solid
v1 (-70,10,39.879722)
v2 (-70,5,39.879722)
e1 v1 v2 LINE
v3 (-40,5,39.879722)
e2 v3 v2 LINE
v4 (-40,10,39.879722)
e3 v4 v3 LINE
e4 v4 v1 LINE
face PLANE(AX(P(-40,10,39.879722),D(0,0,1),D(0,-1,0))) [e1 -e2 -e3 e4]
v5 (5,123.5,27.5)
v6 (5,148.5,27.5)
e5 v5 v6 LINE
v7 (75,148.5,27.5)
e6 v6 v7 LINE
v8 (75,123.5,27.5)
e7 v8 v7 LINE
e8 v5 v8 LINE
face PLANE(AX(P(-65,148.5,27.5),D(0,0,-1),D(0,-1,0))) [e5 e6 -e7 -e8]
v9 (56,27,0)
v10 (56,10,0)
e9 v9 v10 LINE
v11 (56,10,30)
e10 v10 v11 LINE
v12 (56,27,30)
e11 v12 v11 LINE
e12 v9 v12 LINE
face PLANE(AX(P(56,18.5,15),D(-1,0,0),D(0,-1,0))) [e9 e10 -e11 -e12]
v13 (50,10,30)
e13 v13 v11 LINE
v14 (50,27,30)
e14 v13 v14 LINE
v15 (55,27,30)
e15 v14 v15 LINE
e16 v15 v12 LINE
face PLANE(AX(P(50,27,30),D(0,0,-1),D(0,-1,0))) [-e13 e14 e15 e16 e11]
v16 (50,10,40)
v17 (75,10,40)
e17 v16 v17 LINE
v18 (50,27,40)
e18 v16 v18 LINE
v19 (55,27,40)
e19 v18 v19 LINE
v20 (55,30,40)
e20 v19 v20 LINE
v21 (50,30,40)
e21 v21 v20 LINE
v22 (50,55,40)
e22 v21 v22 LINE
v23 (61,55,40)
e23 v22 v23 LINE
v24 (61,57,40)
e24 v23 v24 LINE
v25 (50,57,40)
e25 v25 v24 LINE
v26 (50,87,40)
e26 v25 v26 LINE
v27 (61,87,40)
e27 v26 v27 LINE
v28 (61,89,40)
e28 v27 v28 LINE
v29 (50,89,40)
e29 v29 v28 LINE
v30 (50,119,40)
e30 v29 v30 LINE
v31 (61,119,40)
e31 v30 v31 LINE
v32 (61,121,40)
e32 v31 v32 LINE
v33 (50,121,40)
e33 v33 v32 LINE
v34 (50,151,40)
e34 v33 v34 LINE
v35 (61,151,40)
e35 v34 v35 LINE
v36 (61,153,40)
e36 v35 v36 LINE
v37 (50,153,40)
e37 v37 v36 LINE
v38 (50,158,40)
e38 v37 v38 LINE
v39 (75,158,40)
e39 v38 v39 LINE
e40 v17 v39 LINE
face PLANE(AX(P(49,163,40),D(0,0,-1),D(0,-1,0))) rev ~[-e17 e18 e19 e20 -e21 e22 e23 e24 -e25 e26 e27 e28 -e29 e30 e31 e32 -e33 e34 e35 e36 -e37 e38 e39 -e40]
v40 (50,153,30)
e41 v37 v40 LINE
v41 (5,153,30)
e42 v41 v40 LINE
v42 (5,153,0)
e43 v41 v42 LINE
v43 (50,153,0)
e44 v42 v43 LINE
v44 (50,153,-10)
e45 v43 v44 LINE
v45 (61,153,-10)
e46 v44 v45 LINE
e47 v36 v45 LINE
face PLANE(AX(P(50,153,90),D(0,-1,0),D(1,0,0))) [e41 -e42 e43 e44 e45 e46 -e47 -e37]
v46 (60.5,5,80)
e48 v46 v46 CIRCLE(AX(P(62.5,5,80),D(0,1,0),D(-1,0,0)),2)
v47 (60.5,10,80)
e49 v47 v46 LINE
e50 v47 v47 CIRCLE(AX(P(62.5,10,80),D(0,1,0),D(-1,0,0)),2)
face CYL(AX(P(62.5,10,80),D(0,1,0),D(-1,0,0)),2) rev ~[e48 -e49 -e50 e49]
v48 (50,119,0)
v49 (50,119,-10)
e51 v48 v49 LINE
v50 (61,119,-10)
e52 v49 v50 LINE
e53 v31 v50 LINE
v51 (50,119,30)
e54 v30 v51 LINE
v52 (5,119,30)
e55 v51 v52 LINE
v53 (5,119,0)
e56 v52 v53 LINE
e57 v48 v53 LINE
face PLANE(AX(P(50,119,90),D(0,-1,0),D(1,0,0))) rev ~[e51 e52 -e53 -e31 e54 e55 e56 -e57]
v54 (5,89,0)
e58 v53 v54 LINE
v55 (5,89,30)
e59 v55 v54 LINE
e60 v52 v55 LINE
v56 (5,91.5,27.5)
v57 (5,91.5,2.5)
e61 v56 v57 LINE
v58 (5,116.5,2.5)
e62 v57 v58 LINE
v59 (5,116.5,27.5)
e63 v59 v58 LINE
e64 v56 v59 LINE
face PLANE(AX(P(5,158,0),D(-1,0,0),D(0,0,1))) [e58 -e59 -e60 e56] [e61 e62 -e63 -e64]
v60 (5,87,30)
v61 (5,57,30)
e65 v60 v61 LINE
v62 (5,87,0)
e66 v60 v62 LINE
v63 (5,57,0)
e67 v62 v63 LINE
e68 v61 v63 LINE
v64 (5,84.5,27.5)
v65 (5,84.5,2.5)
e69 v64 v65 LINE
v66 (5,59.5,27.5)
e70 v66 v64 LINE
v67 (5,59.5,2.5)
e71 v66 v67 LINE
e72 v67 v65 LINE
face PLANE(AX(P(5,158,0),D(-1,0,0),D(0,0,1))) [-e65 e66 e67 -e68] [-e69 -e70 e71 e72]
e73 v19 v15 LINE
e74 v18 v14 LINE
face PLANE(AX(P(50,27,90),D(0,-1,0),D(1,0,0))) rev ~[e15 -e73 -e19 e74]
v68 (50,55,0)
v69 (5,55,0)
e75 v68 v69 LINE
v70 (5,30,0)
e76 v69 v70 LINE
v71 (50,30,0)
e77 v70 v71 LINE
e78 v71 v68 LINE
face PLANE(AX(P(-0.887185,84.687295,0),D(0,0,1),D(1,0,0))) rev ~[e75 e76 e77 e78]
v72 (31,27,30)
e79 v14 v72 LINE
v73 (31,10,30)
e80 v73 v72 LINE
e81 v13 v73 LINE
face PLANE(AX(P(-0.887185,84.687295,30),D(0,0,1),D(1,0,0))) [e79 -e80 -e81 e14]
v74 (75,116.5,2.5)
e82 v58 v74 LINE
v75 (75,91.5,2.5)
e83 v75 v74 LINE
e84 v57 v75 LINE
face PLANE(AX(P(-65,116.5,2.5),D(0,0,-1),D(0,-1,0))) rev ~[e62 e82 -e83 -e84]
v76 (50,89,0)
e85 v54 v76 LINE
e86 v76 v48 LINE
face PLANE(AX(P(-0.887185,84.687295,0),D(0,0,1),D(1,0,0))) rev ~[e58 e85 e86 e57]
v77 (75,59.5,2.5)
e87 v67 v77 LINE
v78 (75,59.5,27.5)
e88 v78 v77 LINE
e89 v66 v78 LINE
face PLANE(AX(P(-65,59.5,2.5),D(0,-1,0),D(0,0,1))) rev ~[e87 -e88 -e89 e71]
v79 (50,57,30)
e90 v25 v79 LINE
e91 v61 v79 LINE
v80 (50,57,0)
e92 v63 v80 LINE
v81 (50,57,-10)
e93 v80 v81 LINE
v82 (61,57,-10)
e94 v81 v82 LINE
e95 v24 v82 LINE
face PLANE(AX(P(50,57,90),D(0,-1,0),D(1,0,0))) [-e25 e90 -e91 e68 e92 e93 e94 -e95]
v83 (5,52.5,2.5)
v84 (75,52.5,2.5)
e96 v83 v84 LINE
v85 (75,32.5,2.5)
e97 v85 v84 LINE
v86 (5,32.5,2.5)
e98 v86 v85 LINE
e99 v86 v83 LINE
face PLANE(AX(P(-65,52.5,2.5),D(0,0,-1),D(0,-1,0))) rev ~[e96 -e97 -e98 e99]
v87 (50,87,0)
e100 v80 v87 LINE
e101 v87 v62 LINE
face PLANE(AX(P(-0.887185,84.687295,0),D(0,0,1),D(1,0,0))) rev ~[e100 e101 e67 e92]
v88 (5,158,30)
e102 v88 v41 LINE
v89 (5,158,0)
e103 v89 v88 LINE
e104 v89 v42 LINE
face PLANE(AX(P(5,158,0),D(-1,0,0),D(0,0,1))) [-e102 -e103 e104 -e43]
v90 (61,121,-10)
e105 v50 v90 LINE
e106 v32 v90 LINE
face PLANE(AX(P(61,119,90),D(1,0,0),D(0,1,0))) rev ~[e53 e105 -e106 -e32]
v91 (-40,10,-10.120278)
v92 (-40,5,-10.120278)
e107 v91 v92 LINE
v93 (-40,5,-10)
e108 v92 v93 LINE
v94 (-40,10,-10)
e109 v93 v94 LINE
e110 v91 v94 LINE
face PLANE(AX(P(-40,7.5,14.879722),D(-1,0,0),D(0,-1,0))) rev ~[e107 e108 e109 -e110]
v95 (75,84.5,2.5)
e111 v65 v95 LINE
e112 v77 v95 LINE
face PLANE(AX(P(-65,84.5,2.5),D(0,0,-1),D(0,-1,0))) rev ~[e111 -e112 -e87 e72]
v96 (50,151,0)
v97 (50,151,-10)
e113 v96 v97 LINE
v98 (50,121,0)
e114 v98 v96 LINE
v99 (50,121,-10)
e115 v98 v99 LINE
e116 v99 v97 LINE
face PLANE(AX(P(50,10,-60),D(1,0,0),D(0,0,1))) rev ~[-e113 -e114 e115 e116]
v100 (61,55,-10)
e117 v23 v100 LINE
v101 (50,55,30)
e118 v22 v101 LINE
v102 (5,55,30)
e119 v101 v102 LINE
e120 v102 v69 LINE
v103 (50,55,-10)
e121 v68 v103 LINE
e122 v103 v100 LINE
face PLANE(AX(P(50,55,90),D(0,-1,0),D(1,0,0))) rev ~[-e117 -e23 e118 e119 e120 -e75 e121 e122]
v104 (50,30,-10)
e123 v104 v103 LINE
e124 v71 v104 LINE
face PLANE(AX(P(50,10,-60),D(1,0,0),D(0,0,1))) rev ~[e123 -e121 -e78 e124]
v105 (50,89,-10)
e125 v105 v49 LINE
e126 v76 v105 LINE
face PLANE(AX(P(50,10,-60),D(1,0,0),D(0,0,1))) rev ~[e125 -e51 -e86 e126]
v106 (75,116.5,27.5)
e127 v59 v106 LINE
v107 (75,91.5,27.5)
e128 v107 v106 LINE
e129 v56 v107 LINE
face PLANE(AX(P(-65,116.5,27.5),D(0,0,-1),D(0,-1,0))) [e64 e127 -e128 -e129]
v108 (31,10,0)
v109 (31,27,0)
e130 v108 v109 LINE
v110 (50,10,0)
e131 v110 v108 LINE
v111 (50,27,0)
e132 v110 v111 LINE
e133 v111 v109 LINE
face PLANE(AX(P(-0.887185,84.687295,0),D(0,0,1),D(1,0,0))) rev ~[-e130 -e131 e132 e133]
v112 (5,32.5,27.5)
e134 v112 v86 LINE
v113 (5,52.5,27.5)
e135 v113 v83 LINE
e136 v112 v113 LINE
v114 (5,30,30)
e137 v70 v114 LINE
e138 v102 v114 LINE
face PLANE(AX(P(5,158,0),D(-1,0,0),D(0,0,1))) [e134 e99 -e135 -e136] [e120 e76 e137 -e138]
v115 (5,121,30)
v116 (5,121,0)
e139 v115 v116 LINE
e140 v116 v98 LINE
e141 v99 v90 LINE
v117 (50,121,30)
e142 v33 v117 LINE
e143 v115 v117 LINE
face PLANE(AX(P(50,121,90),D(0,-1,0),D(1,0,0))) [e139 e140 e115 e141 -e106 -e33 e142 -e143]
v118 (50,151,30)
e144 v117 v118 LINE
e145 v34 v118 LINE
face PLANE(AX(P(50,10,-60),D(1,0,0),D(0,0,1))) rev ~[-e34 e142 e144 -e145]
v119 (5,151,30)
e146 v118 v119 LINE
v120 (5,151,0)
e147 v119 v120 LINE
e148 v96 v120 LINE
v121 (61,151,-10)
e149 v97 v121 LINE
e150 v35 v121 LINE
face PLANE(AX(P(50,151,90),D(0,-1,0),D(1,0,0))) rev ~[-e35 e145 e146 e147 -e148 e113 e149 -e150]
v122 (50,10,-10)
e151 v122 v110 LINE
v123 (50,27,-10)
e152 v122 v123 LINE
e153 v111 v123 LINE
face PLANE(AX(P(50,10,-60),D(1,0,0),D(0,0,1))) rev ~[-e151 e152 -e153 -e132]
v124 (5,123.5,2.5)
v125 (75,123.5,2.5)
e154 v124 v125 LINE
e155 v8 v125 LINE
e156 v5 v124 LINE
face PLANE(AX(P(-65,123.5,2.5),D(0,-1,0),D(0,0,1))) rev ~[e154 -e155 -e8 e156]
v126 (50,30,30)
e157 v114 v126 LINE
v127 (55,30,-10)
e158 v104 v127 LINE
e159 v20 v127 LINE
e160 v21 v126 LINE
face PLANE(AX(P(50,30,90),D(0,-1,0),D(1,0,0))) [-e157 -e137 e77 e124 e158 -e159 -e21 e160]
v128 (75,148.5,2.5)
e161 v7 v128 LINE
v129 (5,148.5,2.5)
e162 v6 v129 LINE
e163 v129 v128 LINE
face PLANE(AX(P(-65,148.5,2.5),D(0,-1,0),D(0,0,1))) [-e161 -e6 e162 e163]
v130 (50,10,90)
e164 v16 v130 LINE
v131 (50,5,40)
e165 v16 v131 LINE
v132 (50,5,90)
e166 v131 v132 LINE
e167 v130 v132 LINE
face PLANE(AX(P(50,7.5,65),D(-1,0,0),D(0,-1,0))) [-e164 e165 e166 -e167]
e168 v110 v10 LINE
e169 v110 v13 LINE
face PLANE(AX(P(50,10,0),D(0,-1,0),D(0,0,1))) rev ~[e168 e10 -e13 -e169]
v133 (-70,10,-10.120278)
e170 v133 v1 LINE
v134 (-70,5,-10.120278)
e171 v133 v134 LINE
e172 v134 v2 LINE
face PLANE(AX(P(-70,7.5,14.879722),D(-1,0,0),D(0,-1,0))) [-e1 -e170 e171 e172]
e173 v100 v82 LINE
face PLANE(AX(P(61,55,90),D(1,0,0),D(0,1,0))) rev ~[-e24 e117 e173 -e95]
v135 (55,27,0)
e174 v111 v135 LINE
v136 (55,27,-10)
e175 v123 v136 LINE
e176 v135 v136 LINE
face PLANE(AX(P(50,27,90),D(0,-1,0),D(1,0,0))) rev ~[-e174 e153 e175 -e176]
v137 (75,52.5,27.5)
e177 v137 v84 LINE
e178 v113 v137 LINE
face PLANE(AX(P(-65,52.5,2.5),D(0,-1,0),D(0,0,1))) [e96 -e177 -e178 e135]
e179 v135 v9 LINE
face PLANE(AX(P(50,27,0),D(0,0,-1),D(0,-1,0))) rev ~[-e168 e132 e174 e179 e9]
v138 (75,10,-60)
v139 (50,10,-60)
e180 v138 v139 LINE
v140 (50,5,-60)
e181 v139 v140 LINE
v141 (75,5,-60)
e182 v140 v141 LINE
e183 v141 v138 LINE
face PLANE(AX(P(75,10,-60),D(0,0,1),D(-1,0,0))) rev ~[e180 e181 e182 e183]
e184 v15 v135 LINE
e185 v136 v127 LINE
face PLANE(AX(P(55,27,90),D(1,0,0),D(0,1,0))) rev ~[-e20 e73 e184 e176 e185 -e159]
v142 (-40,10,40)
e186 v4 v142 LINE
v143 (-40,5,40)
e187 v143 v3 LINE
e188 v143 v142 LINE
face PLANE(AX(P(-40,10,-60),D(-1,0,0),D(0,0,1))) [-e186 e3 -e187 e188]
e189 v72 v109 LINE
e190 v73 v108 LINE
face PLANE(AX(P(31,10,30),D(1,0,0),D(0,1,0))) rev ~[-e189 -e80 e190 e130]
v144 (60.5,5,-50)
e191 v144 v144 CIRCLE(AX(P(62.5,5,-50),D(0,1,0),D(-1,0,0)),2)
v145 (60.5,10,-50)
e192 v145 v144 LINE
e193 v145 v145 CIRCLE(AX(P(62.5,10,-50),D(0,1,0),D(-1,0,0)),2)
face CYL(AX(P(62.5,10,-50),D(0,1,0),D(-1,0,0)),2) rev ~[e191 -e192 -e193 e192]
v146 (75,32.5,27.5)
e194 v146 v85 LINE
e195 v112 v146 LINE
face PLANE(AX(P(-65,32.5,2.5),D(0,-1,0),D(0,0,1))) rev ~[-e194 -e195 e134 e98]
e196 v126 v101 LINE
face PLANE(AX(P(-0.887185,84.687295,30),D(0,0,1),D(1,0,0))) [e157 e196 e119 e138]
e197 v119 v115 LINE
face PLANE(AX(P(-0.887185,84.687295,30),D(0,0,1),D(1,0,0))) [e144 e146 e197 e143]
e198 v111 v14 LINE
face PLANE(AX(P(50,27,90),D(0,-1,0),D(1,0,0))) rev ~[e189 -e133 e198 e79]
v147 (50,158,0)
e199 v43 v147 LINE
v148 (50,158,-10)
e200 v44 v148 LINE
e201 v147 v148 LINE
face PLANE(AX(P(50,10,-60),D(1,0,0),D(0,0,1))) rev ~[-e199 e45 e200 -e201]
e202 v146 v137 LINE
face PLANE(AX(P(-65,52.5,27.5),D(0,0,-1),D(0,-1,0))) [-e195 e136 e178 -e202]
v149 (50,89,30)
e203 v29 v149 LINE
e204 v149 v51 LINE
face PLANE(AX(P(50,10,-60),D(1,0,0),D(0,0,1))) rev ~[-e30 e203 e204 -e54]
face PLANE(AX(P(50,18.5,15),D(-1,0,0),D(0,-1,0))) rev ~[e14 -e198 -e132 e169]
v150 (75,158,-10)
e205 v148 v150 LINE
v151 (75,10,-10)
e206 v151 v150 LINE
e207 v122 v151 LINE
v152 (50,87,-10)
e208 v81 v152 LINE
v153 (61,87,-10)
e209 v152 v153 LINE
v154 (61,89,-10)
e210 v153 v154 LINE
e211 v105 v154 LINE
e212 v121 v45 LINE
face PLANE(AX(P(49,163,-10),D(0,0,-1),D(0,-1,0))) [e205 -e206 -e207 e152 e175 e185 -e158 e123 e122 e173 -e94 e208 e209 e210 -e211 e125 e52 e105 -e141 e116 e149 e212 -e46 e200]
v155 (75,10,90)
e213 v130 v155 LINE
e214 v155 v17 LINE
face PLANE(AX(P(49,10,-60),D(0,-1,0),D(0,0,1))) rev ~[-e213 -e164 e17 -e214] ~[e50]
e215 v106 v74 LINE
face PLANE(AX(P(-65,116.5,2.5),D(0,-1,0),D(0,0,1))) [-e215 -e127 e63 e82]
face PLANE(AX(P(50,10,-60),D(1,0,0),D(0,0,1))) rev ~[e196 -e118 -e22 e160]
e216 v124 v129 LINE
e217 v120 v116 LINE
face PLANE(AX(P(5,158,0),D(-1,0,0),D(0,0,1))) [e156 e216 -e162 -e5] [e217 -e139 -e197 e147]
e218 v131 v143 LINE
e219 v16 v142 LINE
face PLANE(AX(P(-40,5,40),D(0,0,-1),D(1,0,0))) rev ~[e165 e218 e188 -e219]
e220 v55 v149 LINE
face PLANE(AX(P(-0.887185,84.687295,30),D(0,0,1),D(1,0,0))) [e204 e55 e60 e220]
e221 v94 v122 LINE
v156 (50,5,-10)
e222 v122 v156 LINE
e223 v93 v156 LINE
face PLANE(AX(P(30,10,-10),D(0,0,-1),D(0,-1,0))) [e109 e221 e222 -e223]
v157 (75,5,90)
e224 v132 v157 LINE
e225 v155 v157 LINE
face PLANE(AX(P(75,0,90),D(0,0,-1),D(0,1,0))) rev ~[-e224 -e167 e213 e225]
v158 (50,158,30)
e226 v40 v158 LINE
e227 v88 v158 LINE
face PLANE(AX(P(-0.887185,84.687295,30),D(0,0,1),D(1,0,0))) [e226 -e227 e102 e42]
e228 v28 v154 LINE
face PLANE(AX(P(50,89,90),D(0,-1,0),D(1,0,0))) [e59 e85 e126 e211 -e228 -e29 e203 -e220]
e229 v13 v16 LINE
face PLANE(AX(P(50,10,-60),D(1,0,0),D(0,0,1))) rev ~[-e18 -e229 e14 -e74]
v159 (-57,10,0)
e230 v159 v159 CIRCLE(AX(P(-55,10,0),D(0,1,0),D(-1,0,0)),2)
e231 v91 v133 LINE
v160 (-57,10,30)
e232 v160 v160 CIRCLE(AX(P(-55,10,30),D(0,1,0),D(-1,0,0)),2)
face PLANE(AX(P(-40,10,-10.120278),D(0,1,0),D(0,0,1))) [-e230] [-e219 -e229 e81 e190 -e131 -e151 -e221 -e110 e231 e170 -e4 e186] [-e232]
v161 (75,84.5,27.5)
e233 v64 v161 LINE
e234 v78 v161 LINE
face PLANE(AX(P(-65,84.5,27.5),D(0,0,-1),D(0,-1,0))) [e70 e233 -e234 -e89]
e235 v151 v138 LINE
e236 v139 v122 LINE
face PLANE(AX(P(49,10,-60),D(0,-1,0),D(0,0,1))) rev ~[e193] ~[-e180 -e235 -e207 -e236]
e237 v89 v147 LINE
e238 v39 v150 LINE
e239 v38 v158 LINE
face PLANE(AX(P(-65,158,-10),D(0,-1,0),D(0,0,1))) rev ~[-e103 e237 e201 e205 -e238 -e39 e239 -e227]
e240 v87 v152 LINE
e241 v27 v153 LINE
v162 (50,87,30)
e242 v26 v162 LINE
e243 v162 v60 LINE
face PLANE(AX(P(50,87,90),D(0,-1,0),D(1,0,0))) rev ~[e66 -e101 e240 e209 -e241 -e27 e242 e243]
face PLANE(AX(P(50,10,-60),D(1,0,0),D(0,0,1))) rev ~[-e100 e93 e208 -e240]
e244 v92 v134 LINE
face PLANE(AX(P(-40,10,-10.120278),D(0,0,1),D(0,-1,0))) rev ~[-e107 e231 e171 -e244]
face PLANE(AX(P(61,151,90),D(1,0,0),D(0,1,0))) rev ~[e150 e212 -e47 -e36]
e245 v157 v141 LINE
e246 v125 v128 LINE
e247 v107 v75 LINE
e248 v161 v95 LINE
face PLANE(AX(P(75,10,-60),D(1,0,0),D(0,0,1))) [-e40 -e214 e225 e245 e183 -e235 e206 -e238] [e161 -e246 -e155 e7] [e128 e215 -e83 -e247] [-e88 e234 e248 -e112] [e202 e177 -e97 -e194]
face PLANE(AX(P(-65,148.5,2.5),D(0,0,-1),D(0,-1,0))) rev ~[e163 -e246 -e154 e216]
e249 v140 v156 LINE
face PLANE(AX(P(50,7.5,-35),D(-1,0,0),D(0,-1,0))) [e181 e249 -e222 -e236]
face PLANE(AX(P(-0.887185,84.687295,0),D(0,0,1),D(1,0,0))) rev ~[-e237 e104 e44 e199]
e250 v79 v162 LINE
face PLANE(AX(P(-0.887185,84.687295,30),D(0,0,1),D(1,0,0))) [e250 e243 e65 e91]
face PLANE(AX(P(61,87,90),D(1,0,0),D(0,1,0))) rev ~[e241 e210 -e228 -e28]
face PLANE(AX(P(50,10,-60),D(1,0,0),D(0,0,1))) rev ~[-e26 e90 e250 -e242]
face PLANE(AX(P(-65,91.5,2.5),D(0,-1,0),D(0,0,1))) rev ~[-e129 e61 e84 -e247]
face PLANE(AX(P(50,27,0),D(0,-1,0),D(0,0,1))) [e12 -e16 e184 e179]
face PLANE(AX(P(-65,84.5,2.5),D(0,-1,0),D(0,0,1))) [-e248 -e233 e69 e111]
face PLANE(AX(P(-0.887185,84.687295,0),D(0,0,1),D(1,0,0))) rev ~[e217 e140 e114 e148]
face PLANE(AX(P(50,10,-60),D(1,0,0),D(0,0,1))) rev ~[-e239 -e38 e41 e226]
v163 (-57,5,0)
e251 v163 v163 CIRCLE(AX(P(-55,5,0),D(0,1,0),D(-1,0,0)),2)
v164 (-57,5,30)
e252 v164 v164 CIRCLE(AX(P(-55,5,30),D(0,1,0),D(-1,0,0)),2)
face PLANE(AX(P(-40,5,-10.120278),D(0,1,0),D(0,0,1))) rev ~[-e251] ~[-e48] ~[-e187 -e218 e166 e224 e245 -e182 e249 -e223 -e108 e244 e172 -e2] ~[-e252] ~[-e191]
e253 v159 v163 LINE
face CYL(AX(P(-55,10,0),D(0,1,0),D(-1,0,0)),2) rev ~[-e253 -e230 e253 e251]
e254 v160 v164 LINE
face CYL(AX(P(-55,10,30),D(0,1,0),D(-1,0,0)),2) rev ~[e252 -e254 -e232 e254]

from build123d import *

# Parameters (mm, degrees)
PAD_DEPTH       = 30
SKETCH001_W     = 10
SKETCH001_H     = 150
PAD001_DEPTH    = 180
SKETCH002_W     = 25
SKETCH002_H     = 150
PAD002_DEPTH    = 153
SKETCH003_W     = 5
SKETCH003_H     = 3
SKETCH003_W_2   = 11
SKETCH003_H_2   = 2
POCKET_DEPTH    = 150
SKETCH006_W     = 153
SKETCH006_H     = 50
POCKET001_DEPTH = 35
SKETCH007_W     = 50
SKETCH007_H     = 50
SKETCH007_W_2   = 45
POCKET002_DEPTH = 35
SKETCH004_R     = 2
POCKET003_DEPTH = 10.001
SKETCH008_W     = 25
SKETCH008_H     = 25
SKETCH008_W_2   = 20
SKETCH008_W_3   = 5
SKETCH008_H_2   = 50
POCKET004_DEPTH = 150
SKETCH009_W     = 5
SKETCH009_H     = 150
POCKET005_DEPTH = 200
SKETCH010_W     = 20
SKETCH010_H     = 30
POCKET006_DEPTH = 5
SKETCH011_W     = 70
SKETCH011_H     = 30
POCKET007_DEPTH = 128
SKETCH012_W     = 65
SKETCH012_H     = 150
POCKET008_DEPTH = 5
SKETCH013_W     = 5
SKETCH013_H     = 50
POCKET009_DEPTH = 20
SKETCH014_W     = 20
SKETCH014_H     = 50
POCKET010_DEPTH = 5
SKETCH015_W     = 17
SKETCH015_H     = 30
POCKET011_DEPTH = 6
SKETCH016_W     = 5
SKETCH016_H     = 50
PAD003_DEPTH    = 30
SKETCH017_R     = 2
POCKET012_DEPTH = 5
SKETCH018_W     = 6
SKETCH018_H     = 17
POCKET013_DEPTH = 30


with BuildPart() as part:
    # Sketch → Pad (new body)
    with BuildSketch(Plane.XY):
        Polygon((-75, 0), (75, 0), (75, 163), (-65, 163), (-65, 153), (55, 153), (55, 151), (-65, 151), (-65, 121), (55, 121), (55, 119), (-65, 119), (-65, 89), (55, 89), (55, 87), (-65, 87), (-65, 57), (55, 57), (55, 55), (-65, 55), (-65, 30), (55, 30), (55, 27), (25, 27), (25, 10), (-75, 10), align=None)
    extrude(amount=PAD_DEPTH)

    # Sketch001 (on Face2 of Pad) → Pad001 (join)
    with BuildSketch(Plane.YZ.offset(75)):
        with Locations((5, 15)):
            Rectangle(SKETCH001_W, SKETCH001_H)
    extrude(amount=-PAD001_DEPTH)

    # Sketch002 (on Face10 of Pad001) → Pad002 (join)
    with BuildSketch(Plane(origin=(0, 10, 0), x_dir=(-1, 0, 0), z_dir=(0, 1, 0))):
        with Locations((-62.5, 15)):
            Rectangle(SKETCH002_W, SKETCH002_H)
    extrude(amount=PAD002_DEPTH)

    # Sketch003 (on Face14 of Pad002) → Pocket (cut)
    with BuildSketch(Plane.XY.offset(90)):
        with Locations((52.5, 28.5)):
            Rectangle(SKETCH003_W, SKETCH003_H)
        with Locations((55.5, 56)):
            Rectangle(SKETCH003_W_2, SKETCH003_H_2)
        with Locations((55.5, 88)):
            Rectangle(SKETCH003_W_2, SKETCH003_H_2)
        with Locations((55.5, 120)):
            Rectangle(SKETCH003_W_2, SKETCH003_H_2)
        with Locations((55.5, 152)):
            Rectangle(SKETCH003_W_2, SKETCH003_H_2)
    extrude(amount=-POCKET_DEPTH, mode=Mode.SUBTRACT)

    # Sketch006 → Pocket001 (cut)
    with BuildSketch(Plane(origin=(49, 0, 0), x_dir=(0, -1, 0), z_dir=(-1, 0, 0))):
        with Locations((-86.5, 65)):
            Rectangle(SKETCH006_W, SKETCH006_H)
        with Locations((-86.5, -35)):
            Rectangle(SKETCH006_W, SKETCH006_H)
    extrude(amount=-POCKET001_DEPTH, mode=Mode.SUBTRACT)

    # Sketch007 → Pocket002 (cut)
    with BuildSketch(Plane(origin=(0, 10, 0), x_dir=(-1, 0, 0), z_dir=(0, 1, 0))):
        with Locations((-5, 65)):
            Rectangle(SKETCH007_W, SKETCH007_H)
        with Locations((62.5, 65)):
            Rectangle(SKETCH007_W_2, SKETCH007_H)
        with Locations((-5, -35)):
            Rectangle(SKETCH007_W, SKETCH007_H)
        with Locations((62.5, -35)):
            Rectangle(SKETCH007_W_2, SKETCH007_H)
    extrude(amount=-POCKET002_DEPTH, mode=Mode.SUBTRACT)

    # Sketch004 (on Face13 of Pocket) → Pocket003 (cut, through all)
    with BuildSketch(Plane(origin=(0, 10, 0), x_dir=(-1, 0, 0), z_dir=(0, 1, 0))):
        with Locations((-62.5, 80)):
            Circle(SKETCH004_R)
        with Locations((30, 80)):
            Circle(SKETCH004_R)
        with Locations((95, 80)):
            Circle(SKETCH004_R)
        with Locations((-62.5, -50)):
            Circle(SKETCH004_R)
        with Locations((30, -50)):
            Circle(SKETCH004_R)
        with Locations((95, -50)):
            Circle(SKETCH004_R)
    extrude(amount=-POCKET003_DEPTH, mode=Mode.SUBTRACT)

    # Sketch008 (on Face100 of Pocket003) → Pocket004 (cut)
    with BuildSketch(Plane(origin=(-65, 0, 0), x_dir=(0, -1, 0), z_dir=(-1, 0, 0))):
        with Locations((-136, 15)):
            Rectangle(SKETCH008_W, SKETCH008_H)
        with Locations((-104, 15)):
            Rectangle(SKETCH008_W, SKETCH008_H)
        with Locations((-72, 15)):
            Rectangle(SKETCH008_W, SKETCH008_H)
        with Locations((-42.5, 15)):
            Rectangle(SKETCH008_W_2, SKETCH008_H)
        with Locations((-160.5, 15)):
            Rectangle(SKETCH008_W_3, SKETCH008_H_2)
    extrude(amount=-POCKET004_DEPTH, mode=Mode.SUBTRACT)

    # Sketch009 (on Face20 of Pocket004) → Pocket005 (cut)
    with BuildSketch(Plane(origin=(-105, 0, 0), x_dir=(0, -1, 0), z_dir=(-1, 0, 0))):
        with Locations((-2.5, 15)):
            Rectangle(SKETCH009_W, SKETCH009_H)
    extrude(amount=-POCKET005_DEPTH, mode=Mode.SUBTRACT)

    # Sketch010 (on Face66 of Pocket005) → Pocket006 (cut)
    with BuildSketch(Plane(origin=(0, 10, 0), x_dir=(-1, 0, 0), z_dir=(0, 1, 0))):
        with Locations((65, 15)):
            Rectangle(SKETCH010_W, SKETCH010_H)
    extrude(amount=-POCKET006_DEPTH, mode=Mode.SUBTRACT)

    # Sketch011 (on Face39 of Pocket006) → Pocket007 (cut)
    with BuildSketch(Plane(origin=(0, 158, 0), x_dir=(-1, 0, 0), z_dir=(0, 1, 0))):
        with Locations((30, 15)):
            Rectangle(SKETCH011_W, SKETCH011_H)
    extrude(amount=-POCKET007_DEPTH, mode=Mode.SUBTRACT)

    # Sketch012 (on Face56 of Pocket007) → Pocket008 (cut)
    with BuildSketch(Plane(origin=(0, 10, 0), x_dir=(-1, 0, 0), z_dir=(0, 1, 0))):
        with Locations((72.5, 15)):
            Rectangle(SKETCH012_W, SKETCH012_H)
    extrude(amount=-POCKET008_DEPTH, mode=Mode.SUBTRACT)

    # Sketch013 (on Face14 of Pocket008) → Pocket009 (cut)
    with BuildSketch(Plane(origin=(30, 0, 0), x_dir=(0, -1, 0), z_dir=(-1, 0, 0))):
        with Locations((-7.5, -35)):
            Rectangle(SKETCH013_W, SKETCH013_H)
        with Locations((-7.5, 65)):
            Rectangle(SKETCH013_W, SKETCH013_H)
    extrude(amount=-POCKET009_DEPTH, mode=Mode.SUBTRACT)

    # Sketch014 (on Face3 of Pocket009) → Pocket010 (cut)
    with BuildSketch(Plane.XZ.offset(-5)):
        with Locations((-30, -35)):
            Rectangle(SKETCH014_W, SKETCH014_H)
        with Locations((-30, 65)):
            Rectangle(SKETCH014_W, SKETCH014_H)
    extrude(amount=-POCKET010_DEPTH, mode=Mode.SUBTRACT)

    # Sketch015 (on Face79 of Pocket010) → Pocket011 (cut)
    with BuildSketch(Plane(origin=(50, 0, 0), x_dir=(0, -1, 0), z_dir=(-1, 0, 0))):
        with Locations((-18.5, 15)):
            Rectangle(SKETCH015_W, SKETCH015_H)
    extrude(amount=-POCKET011_DEPTH, mode=Mode.SUBTRACT)

    # Sketch016 (on Face18 of Pocket011) → Pad003 (join)
    with BuildSketch(Plane(origin=(-40, 0, 0), x_dir=(0, -1, 0), z_dir=(-1, 0, 0))):
        with Locations((-7.5, 14.879722)):
            Rectangle(SKETCH016_W, SKETCH016_H)
    extrude(amount=PAD003_DEPTH)

    # Sketch017 (on Face78 of Pad003) → Pocket012 (cut)
    with BuildSketch(Plane(origin=(0, 10, 0), x_dir=(-1, 0, 0), z_dir=(0, 1, 0))):
        with Locations((55, 30)):
            Circle(SKETCH017_R)
        with Locations((55, 0)):
            Circle(SKETCH017_R)
    extrude(amount=-POCKET012_DEPTH, mode=Mode.SUBTRACT)

    # Sketch018 (on Face84 of Pocket012) → Pocket013 (cut)
    with BuildSketch(Plane.XY.offset(30)):
        with Locations((28, 18.5)):
            Rectangle(SKETCH018_W, SKETCH018_H)
    extrude(amount=-POCKET013_DEPTH, mode=Mode.SUBTRACT)


solid = part.part
